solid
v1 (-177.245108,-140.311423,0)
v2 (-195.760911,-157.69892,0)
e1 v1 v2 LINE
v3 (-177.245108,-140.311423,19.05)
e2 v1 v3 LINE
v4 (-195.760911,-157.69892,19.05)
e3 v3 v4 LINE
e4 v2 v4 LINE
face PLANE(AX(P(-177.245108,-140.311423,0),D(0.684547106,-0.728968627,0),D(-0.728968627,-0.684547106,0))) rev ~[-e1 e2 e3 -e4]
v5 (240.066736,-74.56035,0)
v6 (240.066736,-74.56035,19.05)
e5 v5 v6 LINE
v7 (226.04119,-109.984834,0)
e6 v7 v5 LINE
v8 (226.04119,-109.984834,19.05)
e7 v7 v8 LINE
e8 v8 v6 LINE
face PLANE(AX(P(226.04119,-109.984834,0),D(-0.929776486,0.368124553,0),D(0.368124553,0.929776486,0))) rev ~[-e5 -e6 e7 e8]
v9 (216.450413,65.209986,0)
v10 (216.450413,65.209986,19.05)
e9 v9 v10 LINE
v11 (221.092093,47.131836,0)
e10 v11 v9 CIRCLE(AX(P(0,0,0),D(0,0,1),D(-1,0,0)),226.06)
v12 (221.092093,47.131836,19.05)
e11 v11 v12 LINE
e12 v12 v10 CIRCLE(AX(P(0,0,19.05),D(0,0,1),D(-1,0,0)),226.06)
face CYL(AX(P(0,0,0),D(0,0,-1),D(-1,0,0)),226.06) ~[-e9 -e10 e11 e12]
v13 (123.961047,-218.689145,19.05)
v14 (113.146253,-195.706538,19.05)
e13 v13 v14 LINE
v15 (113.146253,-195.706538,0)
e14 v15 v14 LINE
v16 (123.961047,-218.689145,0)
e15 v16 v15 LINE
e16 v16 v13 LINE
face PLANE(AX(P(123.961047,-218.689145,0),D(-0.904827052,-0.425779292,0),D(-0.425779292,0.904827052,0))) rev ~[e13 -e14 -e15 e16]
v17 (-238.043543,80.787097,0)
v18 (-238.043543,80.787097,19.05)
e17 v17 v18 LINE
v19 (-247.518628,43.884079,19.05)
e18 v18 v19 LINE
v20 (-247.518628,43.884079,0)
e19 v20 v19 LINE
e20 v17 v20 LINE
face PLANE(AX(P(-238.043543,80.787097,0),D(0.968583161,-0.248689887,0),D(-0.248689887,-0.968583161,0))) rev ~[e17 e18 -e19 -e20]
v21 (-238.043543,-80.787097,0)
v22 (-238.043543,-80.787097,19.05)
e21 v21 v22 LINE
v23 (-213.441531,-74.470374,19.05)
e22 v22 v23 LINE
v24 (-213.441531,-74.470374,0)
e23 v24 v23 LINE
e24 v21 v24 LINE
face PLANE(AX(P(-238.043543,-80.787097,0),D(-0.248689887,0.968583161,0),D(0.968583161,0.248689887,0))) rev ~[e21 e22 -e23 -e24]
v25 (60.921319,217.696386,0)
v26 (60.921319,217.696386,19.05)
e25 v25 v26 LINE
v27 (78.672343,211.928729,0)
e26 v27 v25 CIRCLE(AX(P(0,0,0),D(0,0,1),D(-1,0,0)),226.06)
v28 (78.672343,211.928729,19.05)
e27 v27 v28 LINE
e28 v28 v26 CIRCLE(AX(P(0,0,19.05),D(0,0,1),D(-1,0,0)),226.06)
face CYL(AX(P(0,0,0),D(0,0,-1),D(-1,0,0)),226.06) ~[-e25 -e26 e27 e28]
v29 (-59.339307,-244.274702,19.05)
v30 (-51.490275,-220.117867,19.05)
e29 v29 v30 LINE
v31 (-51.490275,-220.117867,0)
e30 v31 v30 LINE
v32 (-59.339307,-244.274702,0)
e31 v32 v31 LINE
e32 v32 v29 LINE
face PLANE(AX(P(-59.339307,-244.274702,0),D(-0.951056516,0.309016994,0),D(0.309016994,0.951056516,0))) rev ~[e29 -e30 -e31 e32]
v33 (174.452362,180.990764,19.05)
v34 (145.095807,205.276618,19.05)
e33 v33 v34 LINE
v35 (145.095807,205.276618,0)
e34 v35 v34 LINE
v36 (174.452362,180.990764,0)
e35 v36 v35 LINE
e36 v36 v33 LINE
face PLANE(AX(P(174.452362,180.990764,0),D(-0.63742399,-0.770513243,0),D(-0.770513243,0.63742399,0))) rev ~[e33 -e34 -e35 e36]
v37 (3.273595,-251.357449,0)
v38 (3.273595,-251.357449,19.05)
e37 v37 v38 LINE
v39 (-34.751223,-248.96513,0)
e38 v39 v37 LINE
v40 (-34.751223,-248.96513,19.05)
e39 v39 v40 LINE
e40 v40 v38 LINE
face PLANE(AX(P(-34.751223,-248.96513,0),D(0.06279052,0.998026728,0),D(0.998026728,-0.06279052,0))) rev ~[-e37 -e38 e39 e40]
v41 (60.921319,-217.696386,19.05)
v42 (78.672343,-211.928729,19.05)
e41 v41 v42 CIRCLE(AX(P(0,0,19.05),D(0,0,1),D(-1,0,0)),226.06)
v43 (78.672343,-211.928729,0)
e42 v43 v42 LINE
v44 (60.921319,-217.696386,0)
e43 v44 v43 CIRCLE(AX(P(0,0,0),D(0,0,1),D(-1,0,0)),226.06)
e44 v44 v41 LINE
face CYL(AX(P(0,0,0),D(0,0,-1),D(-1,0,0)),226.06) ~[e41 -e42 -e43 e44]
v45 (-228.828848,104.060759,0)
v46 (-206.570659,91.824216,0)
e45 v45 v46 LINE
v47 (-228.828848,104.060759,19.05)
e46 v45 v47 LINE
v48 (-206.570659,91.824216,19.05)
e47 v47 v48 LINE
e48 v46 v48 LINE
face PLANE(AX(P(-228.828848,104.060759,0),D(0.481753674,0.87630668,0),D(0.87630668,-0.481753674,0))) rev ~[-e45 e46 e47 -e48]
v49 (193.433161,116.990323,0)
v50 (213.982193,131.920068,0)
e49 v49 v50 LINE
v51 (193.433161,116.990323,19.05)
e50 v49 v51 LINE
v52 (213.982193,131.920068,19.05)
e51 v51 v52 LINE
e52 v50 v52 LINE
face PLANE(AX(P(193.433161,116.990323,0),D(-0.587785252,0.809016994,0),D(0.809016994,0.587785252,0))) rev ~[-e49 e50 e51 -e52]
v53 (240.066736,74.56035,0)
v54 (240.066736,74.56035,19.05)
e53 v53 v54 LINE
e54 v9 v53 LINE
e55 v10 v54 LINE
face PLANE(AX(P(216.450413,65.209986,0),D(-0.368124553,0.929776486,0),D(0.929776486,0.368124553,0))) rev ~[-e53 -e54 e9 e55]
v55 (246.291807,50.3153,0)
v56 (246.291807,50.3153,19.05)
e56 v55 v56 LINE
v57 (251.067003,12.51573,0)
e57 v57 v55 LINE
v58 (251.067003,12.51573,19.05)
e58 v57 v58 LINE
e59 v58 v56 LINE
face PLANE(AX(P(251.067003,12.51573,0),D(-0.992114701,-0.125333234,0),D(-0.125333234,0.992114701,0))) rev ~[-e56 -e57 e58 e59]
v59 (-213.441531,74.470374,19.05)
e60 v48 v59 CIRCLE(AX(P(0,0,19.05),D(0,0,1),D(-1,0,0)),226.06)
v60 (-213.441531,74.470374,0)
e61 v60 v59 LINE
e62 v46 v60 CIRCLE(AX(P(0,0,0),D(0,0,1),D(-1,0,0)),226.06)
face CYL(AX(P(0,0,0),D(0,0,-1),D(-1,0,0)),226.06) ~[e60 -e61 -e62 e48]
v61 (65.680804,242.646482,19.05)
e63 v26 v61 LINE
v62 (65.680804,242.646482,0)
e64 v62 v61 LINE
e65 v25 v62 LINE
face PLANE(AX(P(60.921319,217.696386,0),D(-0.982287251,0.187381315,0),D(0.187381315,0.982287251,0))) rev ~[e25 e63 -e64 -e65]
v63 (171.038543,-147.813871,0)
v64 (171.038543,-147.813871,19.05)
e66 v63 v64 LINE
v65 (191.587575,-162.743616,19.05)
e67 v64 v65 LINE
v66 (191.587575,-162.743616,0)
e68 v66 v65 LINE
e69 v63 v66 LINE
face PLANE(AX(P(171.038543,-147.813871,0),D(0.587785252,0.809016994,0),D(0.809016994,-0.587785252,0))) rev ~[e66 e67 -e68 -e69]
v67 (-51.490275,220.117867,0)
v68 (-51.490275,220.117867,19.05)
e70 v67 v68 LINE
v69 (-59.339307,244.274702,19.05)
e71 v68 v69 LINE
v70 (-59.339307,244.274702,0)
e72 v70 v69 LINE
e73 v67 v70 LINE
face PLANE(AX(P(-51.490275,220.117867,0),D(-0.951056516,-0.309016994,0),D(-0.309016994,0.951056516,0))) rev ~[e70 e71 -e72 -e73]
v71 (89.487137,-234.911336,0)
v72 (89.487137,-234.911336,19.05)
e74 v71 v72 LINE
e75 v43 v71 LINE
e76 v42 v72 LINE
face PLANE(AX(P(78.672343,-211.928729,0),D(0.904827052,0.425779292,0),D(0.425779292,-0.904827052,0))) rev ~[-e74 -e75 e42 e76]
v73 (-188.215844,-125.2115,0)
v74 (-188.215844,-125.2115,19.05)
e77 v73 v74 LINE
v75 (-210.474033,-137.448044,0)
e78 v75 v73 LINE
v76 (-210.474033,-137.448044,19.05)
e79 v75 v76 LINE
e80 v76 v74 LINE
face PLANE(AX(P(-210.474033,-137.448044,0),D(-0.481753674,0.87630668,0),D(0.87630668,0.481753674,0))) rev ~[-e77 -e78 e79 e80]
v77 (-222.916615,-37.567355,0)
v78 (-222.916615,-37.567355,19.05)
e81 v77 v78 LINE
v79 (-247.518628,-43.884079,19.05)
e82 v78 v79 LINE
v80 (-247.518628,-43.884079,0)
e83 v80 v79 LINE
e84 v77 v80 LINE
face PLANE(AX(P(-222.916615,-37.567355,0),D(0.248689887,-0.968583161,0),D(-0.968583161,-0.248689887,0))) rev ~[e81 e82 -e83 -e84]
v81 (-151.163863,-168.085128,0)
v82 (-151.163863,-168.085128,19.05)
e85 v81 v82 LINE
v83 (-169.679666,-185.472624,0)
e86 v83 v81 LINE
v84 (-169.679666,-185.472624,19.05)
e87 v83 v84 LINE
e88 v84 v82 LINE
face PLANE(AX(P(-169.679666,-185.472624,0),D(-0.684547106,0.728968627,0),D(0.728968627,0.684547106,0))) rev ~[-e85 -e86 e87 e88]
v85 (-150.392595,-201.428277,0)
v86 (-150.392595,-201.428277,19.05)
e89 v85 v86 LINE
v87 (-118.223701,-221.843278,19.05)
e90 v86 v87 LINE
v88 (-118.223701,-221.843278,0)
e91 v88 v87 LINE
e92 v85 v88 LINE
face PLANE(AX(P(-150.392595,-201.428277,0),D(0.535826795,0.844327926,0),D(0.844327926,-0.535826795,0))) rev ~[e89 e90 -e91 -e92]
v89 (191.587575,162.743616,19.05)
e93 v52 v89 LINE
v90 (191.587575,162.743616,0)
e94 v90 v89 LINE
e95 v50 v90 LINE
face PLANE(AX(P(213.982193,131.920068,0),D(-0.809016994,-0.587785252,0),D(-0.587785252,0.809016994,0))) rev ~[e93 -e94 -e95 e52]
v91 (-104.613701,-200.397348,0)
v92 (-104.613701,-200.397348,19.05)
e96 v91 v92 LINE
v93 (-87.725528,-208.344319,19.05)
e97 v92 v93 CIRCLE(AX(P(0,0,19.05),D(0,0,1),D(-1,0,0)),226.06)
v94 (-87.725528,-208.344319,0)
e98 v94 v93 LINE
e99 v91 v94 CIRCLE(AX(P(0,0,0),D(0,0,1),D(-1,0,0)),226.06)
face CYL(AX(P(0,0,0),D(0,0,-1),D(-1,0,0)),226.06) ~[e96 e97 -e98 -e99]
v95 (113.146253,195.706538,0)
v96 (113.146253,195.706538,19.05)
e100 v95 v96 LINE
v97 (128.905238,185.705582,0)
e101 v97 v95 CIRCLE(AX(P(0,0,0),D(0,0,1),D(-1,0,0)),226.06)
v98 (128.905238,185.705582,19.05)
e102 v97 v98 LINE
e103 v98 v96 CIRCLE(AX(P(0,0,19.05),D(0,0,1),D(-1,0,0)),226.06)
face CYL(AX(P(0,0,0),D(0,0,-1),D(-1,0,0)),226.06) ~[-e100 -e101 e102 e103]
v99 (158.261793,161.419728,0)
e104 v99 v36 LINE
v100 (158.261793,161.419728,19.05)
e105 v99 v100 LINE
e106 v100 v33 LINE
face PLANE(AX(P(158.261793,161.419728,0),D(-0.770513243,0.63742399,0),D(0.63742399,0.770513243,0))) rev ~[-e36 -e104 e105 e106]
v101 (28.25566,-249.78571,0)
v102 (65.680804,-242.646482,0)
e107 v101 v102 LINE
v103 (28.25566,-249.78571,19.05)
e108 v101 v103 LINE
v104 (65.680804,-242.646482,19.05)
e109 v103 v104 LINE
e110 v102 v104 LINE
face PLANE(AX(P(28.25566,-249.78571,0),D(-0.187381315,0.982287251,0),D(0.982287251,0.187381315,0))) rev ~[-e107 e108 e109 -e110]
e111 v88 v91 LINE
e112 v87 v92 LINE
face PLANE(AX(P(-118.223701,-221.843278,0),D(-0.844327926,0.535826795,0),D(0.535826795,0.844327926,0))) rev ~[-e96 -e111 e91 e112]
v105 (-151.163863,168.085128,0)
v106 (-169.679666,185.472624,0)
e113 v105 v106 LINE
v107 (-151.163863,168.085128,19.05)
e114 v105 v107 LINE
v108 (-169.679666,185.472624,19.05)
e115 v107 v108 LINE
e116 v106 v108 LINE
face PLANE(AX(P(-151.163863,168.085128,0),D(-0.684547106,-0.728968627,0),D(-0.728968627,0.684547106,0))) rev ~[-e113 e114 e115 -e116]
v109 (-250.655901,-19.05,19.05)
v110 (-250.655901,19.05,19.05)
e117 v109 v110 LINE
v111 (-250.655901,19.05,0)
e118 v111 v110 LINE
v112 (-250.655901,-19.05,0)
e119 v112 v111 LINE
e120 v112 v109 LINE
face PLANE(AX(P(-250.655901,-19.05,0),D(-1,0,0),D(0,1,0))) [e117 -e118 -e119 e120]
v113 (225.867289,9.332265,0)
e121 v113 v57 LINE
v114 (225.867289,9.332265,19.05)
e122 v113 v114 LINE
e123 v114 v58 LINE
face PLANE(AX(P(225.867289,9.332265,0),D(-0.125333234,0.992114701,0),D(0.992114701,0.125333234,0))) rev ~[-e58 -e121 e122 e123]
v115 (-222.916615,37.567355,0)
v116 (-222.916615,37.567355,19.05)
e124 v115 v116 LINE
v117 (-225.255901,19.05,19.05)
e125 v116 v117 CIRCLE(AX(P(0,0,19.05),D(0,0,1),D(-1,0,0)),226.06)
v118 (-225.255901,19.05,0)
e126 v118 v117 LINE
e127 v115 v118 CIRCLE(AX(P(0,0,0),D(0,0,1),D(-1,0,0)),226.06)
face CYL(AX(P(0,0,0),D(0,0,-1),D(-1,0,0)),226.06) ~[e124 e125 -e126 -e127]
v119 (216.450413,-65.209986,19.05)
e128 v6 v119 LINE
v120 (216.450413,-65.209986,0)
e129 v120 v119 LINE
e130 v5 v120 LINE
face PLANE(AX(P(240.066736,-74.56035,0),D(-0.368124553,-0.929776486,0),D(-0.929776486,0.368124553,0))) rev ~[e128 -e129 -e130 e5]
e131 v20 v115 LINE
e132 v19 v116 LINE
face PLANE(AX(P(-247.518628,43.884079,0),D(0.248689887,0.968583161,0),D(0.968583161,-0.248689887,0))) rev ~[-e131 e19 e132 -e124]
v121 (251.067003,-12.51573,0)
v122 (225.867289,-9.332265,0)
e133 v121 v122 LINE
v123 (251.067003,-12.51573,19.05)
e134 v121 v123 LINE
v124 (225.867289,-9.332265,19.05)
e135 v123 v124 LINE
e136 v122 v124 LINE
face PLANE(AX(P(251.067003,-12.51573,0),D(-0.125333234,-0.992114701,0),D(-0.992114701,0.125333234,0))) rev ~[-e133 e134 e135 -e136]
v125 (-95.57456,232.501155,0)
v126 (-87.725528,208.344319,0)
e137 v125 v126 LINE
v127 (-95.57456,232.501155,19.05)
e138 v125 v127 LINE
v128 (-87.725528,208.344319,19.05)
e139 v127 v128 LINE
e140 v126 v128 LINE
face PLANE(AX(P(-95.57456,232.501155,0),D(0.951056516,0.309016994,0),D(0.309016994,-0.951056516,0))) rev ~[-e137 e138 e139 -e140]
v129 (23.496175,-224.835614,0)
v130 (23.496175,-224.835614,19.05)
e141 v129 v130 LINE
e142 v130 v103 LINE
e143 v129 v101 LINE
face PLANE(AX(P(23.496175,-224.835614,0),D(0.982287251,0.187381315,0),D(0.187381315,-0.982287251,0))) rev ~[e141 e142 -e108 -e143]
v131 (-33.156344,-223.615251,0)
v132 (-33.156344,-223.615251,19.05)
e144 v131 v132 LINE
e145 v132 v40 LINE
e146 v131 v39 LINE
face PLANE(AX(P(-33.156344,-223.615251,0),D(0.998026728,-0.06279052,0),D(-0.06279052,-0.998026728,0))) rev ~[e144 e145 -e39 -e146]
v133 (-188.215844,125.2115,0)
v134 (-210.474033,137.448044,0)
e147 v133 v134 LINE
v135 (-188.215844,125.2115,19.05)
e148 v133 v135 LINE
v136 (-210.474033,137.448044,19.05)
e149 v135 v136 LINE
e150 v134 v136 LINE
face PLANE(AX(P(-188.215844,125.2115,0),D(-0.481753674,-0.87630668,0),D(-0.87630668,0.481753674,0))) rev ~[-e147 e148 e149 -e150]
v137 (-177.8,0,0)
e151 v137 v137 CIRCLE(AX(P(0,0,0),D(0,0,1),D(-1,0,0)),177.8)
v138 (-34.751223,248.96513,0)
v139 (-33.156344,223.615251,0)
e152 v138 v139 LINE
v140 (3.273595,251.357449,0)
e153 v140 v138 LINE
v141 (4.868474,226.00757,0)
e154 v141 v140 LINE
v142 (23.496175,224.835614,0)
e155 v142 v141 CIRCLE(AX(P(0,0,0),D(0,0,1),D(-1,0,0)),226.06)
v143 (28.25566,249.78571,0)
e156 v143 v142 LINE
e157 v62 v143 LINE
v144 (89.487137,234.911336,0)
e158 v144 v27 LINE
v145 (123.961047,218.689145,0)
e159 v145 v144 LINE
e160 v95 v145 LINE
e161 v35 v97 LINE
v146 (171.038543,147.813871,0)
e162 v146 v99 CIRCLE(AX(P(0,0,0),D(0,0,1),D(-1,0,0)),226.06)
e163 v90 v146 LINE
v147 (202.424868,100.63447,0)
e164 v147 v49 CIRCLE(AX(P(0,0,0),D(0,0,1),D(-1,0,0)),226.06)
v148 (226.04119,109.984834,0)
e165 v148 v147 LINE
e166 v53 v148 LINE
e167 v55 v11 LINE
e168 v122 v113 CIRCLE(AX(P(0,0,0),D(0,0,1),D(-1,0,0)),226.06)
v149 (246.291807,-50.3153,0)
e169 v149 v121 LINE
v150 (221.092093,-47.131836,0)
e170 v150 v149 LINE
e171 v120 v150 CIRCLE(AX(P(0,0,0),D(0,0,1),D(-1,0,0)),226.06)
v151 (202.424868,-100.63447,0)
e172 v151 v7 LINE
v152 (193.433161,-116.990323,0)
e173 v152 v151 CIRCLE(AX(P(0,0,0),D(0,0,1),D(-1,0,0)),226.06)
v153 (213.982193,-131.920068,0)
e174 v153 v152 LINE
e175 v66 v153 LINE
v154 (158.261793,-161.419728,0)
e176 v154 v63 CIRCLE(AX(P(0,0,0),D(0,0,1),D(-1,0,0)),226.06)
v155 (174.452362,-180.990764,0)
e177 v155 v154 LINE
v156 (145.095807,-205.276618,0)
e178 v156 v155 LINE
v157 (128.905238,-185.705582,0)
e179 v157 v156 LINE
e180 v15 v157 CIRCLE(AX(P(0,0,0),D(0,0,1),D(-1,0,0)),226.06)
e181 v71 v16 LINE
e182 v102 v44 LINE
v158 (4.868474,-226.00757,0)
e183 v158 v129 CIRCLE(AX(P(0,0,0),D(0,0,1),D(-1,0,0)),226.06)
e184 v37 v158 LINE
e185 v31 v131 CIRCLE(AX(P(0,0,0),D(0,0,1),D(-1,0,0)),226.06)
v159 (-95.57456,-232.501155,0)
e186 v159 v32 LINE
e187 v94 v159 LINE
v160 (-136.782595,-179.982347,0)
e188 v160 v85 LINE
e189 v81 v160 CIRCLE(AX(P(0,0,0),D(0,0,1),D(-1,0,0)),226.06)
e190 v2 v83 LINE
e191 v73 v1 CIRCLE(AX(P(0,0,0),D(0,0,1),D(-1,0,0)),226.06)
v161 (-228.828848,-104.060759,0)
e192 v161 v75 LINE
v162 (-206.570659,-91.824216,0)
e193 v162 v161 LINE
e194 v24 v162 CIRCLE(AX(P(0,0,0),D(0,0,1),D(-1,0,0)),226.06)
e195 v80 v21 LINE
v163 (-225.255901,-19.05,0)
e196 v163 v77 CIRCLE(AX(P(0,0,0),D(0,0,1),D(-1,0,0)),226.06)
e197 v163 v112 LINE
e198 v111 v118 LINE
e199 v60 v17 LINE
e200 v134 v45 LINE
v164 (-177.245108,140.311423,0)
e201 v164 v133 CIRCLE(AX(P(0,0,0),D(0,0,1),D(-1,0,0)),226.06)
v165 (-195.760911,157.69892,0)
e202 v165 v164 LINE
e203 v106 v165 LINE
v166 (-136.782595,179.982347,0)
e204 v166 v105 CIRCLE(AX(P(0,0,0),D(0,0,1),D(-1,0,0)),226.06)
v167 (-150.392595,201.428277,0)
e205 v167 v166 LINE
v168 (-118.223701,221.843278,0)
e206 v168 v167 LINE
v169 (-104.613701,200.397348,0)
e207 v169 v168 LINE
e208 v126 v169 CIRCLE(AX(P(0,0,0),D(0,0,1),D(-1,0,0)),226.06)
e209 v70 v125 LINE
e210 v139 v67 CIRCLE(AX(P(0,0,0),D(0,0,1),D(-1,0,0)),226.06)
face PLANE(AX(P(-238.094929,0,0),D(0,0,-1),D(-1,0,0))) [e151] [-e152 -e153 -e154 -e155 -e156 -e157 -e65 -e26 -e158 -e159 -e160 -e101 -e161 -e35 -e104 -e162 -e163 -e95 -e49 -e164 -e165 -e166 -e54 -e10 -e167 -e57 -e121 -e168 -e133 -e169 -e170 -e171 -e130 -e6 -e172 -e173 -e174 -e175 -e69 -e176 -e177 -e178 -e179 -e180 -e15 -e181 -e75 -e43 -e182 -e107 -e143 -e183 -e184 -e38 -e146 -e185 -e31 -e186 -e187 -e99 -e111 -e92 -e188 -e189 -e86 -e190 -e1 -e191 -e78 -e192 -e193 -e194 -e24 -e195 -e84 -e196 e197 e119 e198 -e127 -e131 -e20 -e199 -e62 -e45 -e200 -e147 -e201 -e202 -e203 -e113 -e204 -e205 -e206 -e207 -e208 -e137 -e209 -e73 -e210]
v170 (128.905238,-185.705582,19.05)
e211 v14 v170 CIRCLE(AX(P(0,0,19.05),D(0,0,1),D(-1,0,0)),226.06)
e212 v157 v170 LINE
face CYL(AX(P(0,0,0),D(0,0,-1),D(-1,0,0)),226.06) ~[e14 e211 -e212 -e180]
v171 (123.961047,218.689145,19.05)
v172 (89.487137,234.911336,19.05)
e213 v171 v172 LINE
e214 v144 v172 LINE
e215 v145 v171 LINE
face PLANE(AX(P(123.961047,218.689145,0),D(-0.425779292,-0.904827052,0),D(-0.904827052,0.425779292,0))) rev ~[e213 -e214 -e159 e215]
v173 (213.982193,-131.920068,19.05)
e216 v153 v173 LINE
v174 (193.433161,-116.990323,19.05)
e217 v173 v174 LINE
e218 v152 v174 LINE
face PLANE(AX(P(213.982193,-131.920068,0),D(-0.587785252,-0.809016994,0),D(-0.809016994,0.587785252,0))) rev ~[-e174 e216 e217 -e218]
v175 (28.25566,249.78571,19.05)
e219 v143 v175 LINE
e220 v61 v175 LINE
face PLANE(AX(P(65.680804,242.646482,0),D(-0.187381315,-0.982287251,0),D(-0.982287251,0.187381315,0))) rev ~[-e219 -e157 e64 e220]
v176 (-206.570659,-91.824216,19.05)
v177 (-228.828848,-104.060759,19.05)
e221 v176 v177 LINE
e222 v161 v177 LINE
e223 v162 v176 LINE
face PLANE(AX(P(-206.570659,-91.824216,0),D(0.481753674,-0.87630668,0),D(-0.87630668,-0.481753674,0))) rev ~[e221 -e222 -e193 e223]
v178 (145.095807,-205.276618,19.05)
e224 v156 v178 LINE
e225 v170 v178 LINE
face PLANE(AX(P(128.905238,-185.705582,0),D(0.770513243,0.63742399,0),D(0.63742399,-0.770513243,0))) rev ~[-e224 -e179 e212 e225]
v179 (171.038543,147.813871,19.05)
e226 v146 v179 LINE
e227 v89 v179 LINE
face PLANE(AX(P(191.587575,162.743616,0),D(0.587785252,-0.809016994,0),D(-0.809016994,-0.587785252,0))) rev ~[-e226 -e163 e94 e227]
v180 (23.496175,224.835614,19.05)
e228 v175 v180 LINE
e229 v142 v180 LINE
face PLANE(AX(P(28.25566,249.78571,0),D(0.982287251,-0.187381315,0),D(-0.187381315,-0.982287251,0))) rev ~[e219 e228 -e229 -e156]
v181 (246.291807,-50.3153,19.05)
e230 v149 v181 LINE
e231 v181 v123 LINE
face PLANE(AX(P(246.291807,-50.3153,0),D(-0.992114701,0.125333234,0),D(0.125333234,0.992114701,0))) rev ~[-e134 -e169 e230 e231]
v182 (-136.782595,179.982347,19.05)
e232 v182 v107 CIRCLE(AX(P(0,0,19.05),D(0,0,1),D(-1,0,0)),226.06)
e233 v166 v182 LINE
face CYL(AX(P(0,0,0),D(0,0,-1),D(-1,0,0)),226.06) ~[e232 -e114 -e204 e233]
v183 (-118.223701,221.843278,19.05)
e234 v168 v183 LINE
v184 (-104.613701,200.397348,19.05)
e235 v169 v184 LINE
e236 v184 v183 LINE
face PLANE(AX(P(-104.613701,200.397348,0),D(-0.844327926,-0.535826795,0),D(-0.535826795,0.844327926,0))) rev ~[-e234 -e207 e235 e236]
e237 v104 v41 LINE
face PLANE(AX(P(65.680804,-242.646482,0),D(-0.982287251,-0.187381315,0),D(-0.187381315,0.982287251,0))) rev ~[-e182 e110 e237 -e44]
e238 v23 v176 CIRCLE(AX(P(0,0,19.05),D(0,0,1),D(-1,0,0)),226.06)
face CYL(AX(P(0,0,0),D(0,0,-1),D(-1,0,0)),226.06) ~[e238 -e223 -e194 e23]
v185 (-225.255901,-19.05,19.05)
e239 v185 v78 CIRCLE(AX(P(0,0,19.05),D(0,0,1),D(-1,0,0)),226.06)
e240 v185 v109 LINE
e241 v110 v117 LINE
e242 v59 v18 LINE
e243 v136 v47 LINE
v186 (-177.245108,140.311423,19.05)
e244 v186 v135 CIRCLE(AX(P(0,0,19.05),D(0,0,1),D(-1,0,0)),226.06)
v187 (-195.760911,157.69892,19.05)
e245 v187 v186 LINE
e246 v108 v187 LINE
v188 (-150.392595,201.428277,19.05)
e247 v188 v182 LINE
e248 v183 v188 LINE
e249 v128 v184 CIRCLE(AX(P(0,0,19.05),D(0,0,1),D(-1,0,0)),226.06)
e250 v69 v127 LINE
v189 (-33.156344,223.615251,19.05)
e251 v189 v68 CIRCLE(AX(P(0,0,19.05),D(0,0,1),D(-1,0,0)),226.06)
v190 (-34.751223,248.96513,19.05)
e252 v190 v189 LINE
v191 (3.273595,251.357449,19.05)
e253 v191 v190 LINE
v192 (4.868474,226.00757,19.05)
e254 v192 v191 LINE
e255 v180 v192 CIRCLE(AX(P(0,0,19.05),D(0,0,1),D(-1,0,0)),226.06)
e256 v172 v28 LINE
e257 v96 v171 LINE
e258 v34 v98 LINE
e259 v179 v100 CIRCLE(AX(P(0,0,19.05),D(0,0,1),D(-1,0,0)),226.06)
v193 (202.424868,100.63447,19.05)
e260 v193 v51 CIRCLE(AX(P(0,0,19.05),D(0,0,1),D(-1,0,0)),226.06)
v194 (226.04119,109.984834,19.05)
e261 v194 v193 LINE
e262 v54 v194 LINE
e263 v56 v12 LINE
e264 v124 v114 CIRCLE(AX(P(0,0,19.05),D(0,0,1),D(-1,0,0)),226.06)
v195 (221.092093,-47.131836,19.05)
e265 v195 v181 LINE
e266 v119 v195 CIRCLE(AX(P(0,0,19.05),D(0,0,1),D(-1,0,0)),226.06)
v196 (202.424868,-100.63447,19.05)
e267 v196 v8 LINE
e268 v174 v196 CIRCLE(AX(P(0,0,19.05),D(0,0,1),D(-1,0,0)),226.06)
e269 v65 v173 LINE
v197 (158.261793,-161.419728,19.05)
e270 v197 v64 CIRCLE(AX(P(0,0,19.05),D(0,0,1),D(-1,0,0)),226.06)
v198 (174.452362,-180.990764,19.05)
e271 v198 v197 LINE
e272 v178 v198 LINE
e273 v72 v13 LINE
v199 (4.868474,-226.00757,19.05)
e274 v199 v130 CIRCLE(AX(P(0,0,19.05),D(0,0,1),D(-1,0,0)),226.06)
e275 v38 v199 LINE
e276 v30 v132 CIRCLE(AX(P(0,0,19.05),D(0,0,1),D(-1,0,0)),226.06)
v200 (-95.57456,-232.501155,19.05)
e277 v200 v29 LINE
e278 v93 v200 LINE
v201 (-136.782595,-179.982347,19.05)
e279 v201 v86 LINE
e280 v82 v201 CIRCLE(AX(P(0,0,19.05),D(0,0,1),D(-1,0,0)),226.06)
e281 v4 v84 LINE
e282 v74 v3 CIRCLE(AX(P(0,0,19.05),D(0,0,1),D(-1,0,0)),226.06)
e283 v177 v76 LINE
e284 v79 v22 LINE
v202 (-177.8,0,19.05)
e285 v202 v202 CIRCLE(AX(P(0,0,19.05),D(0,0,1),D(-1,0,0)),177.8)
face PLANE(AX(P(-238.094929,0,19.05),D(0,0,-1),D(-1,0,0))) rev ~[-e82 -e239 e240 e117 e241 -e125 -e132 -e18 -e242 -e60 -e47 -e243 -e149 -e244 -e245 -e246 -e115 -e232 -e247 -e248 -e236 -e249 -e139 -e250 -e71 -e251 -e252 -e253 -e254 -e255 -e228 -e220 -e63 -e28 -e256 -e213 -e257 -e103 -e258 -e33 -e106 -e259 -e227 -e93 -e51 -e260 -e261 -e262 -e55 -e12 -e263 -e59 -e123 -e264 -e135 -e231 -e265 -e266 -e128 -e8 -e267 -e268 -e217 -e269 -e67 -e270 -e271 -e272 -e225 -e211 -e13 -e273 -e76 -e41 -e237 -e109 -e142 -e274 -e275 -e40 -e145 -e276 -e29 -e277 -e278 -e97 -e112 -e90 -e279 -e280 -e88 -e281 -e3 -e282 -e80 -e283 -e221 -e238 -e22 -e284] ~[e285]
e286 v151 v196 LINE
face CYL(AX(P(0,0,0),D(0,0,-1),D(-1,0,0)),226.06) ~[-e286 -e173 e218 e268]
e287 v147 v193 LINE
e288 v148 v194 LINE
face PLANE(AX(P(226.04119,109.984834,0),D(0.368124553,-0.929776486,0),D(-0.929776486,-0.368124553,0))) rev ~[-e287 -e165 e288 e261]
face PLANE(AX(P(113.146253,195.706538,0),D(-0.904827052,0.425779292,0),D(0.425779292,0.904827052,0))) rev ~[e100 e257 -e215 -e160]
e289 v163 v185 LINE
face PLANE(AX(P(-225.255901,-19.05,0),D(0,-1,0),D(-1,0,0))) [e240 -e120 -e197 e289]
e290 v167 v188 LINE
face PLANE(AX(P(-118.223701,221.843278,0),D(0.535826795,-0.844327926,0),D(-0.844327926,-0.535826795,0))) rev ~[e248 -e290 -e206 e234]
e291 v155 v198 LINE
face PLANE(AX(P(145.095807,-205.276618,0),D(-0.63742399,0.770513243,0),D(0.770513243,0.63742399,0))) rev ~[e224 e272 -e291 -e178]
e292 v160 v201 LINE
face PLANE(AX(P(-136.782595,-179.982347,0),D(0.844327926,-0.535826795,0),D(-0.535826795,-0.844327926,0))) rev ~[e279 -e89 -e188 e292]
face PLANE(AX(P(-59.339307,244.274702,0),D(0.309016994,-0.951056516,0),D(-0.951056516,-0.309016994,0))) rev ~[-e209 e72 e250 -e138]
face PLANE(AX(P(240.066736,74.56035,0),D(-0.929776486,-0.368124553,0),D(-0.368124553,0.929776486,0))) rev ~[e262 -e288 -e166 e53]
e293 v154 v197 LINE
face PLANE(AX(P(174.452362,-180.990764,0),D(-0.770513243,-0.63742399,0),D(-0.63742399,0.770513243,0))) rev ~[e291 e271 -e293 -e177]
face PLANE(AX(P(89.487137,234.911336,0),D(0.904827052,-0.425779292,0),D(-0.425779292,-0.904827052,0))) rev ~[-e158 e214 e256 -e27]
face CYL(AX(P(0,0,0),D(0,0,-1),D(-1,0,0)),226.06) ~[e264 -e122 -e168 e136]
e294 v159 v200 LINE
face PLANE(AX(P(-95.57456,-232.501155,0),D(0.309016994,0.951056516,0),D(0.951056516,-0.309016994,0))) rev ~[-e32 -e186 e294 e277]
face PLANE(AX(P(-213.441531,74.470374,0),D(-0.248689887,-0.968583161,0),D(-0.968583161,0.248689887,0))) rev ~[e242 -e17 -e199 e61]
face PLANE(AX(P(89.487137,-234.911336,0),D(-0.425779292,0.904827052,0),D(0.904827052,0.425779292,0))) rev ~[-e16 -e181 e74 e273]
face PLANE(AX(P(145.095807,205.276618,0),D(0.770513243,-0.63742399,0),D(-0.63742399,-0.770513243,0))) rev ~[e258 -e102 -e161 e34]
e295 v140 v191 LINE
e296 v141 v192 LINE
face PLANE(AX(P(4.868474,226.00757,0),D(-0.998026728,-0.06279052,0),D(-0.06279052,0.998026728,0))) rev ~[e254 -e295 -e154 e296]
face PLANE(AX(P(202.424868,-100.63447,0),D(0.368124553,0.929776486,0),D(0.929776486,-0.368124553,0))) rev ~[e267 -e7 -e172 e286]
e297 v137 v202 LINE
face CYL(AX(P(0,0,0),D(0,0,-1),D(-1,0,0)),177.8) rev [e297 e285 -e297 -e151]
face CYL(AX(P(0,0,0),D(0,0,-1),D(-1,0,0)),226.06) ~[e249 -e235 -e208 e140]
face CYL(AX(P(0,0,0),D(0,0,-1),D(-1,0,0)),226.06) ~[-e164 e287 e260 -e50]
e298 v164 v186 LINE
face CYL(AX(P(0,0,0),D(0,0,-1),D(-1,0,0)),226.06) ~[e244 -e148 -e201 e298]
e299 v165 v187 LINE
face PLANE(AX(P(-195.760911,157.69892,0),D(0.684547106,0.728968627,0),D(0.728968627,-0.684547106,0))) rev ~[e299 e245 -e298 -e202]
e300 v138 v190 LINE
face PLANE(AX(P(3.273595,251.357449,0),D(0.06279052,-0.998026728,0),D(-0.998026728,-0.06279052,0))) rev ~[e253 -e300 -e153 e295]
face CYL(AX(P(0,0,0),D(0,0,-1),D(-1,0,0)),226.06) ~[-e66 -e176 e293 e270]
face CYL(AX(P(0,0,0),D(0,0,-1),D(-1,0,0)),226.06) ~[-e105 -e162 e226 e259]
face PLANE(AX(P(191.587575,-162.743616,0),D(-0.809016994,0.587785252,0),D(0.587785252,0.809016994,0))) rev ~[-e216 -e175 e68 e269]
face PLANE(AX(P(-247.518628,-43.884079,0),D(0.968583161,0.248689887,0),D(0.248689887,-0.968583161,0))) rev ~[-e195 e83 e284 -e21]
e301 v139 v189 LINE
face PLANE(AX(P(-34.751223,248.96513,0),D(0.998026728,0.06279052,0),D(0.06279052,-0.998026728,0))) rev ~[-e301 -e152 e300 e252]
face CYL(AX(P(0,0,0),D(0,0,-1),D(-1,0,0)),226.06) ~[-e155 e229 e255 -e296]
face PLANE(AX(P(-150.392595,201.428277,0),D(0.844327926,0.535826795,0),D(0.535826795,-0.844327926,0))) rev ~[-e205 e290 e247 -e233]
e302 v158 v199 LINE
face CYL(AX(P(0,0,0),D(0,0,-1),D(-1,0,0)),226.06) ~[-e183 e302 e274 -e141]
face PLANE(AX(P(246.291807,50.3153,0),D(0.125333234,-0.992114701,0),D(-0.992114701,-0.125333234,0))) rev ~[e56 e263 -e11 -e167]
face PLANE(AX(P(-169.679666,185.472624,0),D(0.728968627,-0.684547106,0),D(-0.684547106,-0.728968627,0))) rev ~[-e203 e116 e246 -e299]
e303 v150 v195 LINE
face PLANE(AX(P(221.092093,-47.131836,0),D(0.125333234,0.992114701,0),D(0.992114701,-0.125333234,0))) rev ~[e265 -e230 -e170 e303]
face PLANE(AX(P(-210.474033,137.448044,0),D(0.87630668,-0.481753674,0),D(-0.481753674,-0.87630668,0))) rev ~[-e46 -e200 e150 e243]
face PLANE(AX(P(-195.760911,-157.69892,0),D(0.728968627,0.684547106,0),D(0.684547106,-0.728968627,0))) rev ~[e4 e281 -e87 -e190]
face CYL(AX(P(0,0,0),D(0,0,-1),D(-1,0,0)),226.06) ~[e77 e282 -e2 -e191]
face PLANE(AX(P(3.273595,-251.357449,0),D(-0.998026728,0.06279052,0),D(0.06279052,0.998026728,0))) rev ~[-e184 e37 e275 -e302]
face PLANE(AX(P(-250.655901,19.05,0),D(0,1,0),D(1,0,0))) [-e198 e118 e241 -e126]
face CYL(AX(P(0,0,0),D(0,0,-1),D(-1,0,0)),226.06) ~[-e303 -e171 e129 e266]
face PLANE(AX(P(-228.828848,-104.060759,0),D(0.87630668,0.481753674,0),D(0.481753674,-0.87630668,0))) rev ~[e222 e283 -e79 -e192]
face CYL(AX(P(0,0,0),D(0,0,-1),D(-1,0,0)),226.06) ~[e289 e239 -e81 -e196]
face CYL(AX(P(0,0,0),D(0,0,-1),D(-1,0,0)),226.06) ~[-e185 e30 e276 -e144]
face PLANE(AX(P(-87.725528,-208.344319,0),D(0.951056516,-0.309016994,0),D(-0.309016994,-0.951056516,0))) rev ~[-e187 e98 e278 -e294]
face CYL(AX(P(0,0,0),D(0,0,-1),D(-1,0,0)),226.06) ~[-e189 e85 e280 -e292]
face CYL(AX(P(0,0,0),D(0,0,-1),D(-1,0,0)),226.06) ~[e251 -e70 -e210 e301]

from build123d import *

# Parameters (mm, degrees)
SKETCH1_R           = 226.06
SKETCH1_R_2         = 177.8
BOSS_EXTRUDE1_DEPTH = 19.05
BOSS_EXTRUDE2_START = -19.05
BOSS_EXTRUDE2_DEPTH = 19.05


with BuildPart() as part:
    # Sketch1 → Boss-Extrude1 (new body)
    with BuildSketch(Plane.XY):
        with Locations(Location((0, 0, 0), (0, 0, 180))):
            Circle(SKETCH1_R)
        with Locations(Location((0, 0, 0), (0, 0, 180))):
            Circle(SKETCH1_R_2, mode=Mode.SUBTRACT)
    extrude(amount=BOSS_EXTRUDE1_DEPTH)

    # Sketch2 → Boss-Extrude2 (add)
    with BuildSketch(Plane.XY.offset(19.05).offset(BOSS_EXTRUDE2_START)):
        with BuildLine():
            Line((-250.655901366, 19.05), (-225.255901366, 19.05))
            ThreePointArc((-225.255901366, 19.05), (-226.06, 0), (-225.255901366, -19.05))
            Line((-225.255901366, -19.05), (-250.655901366, -19.05))
            Line((-250.655901366, -19.05), (-250.655901366, 19.05))
        make_face()
        with BuildLine():
            Line((-247.518627651, 43.884078608), (-222.916615358, 37.567355474))
            ThreePointArc((-222.916615358, 37.567355474), (-218.957909405, 56.218835892), (-213.441530657, 74.470373913))
            Line((-213.441530657, 74.470373913), (-238.04354295, 80.787097047))
            Line((-238.04354295, 80.787097047), (-247.518627651, 43.884078608))
        make_face()
        with BuildLine():
            Line((-228.828848251, 104.060759163), (-206.570658578, 91.824215841))
            ThreePointArc((-206.570658578, 91.824215841), (-198.097888091, 108.905235567), (-188.215843594, 125.211500351))
            Line((-188.215843594, 125.211500351), (-210.474033267, 137.448043673))
            Line((-210.474033267, 137.448043673), (-228.828848251, 104.060759163))
        make_face()
        with BuildLine():
            Line((-195.760910741, 157.698919511), (-177.245107605, 140.311423021))
            ThreePointArc((-177.245107605, 140.311423021), (-164.790647915, 154.748718766), (-151.163862869, 168.085127726))
            Line((-151.163862869, 168.085127726), (-169.679666006, 185.472624216))
            Line((-169.679666006, 185.472624216), (-195.760910741, 157.698919511))
        make_face()
        with BuildLine():
            Line((-150.392595252, 201.42827677), (-136.78259466, 179.982347463))
            ThreePointArc((-136.78259466, 179.982347463), (-121.129005273, 190.868770839), (-104.613700698, 200.397348351))
            Line((-104.613700698, 200.397348351), (-118.22370129, 221.843277659))
            Line((-118.22370129, 221.843277659), (-150.392595252, 201.42827677))
        make_face()
        with BuildLine():
            Line((-95.574559898, 232.501154599), (-87.725528241, 208.344319085))
            ThreePointArc((-87.725528241, 208.344319085), (-69.856381748, 214.995836074), (-51.49027497, 220.11786657))
            Line((-51.49027497, 220.11786657), (-59.339306627, 244.274702084))
            Line((-59.339306627, 244.274702084), (-95.574559898, 232.501154599))
        make_face()
        with BuildLine():
            Line((-34.751223446, 248.965129804), (-33.15634425, 223.615250902))
            ThreePointArc((-33.15634425, 223.615250902), (-14.194424845, 225.613922228), (4.868474103, 226.007569696))
            Line((4.868474103, 226.007569696), (3.273594907, 251.357448598))
            Line((3.273594907, 251.357448598), (-34.751223446, 248.965129804))
        make_face()
        with BuildLine():
            Line((28.25566018, 249.785710274), (23.49617479, 224.835614106))
            ThreePointArc((23.49617479, 224.835614106), (42.359419975, 222.0558559), (60.921319042, 217.69638602))
            Line((60.921319042, 217.69638602), (65.680804433, 242.646482188))
            Line((65.680804433, 242.646482188), (28.25566018, 249.785710274))
        make_face()
        with BuildLine():
            Line((89.487136761, 234.91133592), (78.672342755, 211.928728787))
            ThreePointArc((78.672342755, 211.928728787), (96.251666651, 204.54520348), (113.146253454, 195.706537779))
            Line((113.146253454, 195.706537779), (123.96104746, 218.689144911))
            Line((123.96104746, 218.689144911), (89.487136761, 234.91133592))
        make_face()
        with BuildLine():
            Line((145.095807428, 205.276618387), (128.905238088, 185.70558202))
            ThreePointArc((128.905238088, 185.70558202), (144.096067123, 174.182223662), (158.261792638, 161.419728011))
            Line((158.261792638, 161.419728011), (174.452361977, 180.990764377))
            Line((174.452361977, 180.990764377), (145.095807428, 205.276618387))
        make_face()
        with BuildLine():
            Line((191.587574889, 162.743615966), (171.038543232, 147.813870557))
            ThreePointArc((171.038543232, 147.813870557), (182.886381748, 132.874734133), (193.433161344, 116.990323072))
            Line((193.433161344, 116.990323072), (213.982193001, 131.92006848))
            Line((213.982193001, 131.92006848), (191.587574889, 162.743615966))
        make_face()
        with BuildLine():
            Line((226.04119041, 109.984833624), (202.424867669, 100.634469986))
            ThreePointArc((202.424867669, 100.634469986), (210.1852724, 83.21823638), (216.450413126, 65.209985874))
            Line((216.450413126, 65.209985874), (240.066735867, 74.560349512))
            Line((240.066735867, 74.560349512), (226.04119041, 109.984833624))
        make_face()
        with BuildLine():
            Line((246.291806617, 50.31529969), (221.092093203, 47.131835558))
            ThreePointArc((221.092093203, 47.131835558), (224.277449379, 28.33283078), (225.867289402, 9.332265438))
            Line((225.867289402, 9.332265438), (251.067002815, 12.51572957))
            Line((251.067002815, 12.51572957), (246.291806617, 50.31529969))
        make_face()
        with BuildLine():
            Line((251.067002815, -12.51572957), (225.867289402, -9.332265438))
            ThreePointArc((225.867289402, -9.332265438), (224.277449379, -28.33283078), (221.092093203, -47.131835558))
            Line((221.092093203, -47.131835558), (246.291806617, -50.31529969))
            Line((246.291806617, -50.31529969), (251.067002815, -12.51572957))
        make_face()
        with BuildLine():
            Line((240.066735867, -74.560349512), (216.450413126, -65.209985874))
            ThreePointArc((216.450413126, -65.209985874), (210.1852724, -83.21823638), (202.424867669, -100.634469986))
            Line((202.424867669, -100.634469986), (226.04119041, -109.984833624))
            Line((226.04119041, -109.984833624), (240.066735867, -74.560349512))
        make_face()
        with BuildLine():
            Line((213.982193001, -131.92006848), (193.433161344, -116.990323072))
            ThreePointArc((193.433161344, -116.990323072), (182.886381748, -132.874734133), (171.038543232, -147.813870557))
            Line((171.038543232, -147.813870557), (191.587574889, -162.743615966))
            Line((191.587574889, -162.743615966), (213.982193001, -131.92006848))
        make_face()
        with BuildLine():
            Line((174.452361977, -180.990764377), (158.261792638, -161.419728011))
            ThreePointArc((158.261792638, -161.419728011), (144.096067123, -174.182223662), (128.905238088, -185.70558202))
            Line((128.905238088, -185.70558202), (145.095807428, -205.276618387))
            Line((145.095807428, -205.276618387), (174.452361977, -180.990764377))
        make_face()
        with BuildLine():
            Line((123.961047459, -218.689144911), (113.146253454, -195.706537779))
            ThreePointArc((113.146253454, -195.706537779), (96.251666651, -204.54520348), (78.672342755, -211.928728787))
            Line((78.672342755, -211.928728787), (89.487136761, -234.91133592))
            Line((89.487136761, -234.91133592), (123.961047459, -218.689144911))
        make_face()
        with BuildLine():
            Line((65.680804433, -242.646482188), (60.921319042, -217.69638602))
            ThreePointArc((60.921319042, -217.69638602), (42.359419975, -222.0558559), (23.49617479, -224.835614106))
            Line((23.49617479, -224.835614106), (28.25566018, -249.785710274))
            Line((28.25566018, -249.785710274), (65.680804433, -242.646482188))
        make_face()
        with BuildLine():
            Line((3.273594907, -251.357448598), (4.868474103, -226.007569696))
            ThreePointArc((4.868474103, -226.007569696), (-14.194424845, -225.613922228), (-33.15634425, -223.615250902))
            Line((-33.15634425, -223.615250902), (-34.751223446, -248.965129804))
            Line((-34.751223446, -248.965129804), (3.273594907, -251.357448598))
        make_face()
        with BuildLine():
            Line((-59.339306627, -244.274702084), (-51.49027497, -220.11786657))
            ThreePointArc((-51.49027497, -220.11786657), (-69.856381748, -214.995836074), (-87.725528241, -208.344319085))
            Line((-87.725528241, -208.344319085), (-95.574559898, -232.501154599))
            Line((-95.574559898, -232.501154599), (-59.339306627, -244.274702084))
        make_face()
        with BuildLine():
            Line((-118.22370129, -221.843277659), (-104.613700698, -200.397348351))
            ThreePointArc((-104.613700698, -200.397348351), (-121.129005273, -190.868770839), (-136.78259466, -179.982347463))
            Line((-136.78259466, -179.982347463), (-150.392595252, -201.42827677))
            Line((-150.392595252, -201.42827677), (-118.22370129, -221.843277659))
        make_face()
        with BuildLine():
            Line((-169.679666006, -185.472624216), (-151.163862869, -168.085127726))
            ThreePointArc((-151.163862869, -168.085127726), (-164.790647915, -154.748718766), (-177.245107605, -140.311423021))
            Line((-177.245107605, -140.311423021), (-195.760910741, -157.698919511))
            Line((-195.760910741, -157.698919511), (-169.679666006, -185.472624216))
        make_face()
        with BuildLine():
            Line((-210.474033267, -137.448043673), (-188.215843594, -125.211500351))
            ThreePointArc((-188.215843594, -125.211500351), (-198.097888091, -108.905235567), (-206.570658578, -91.824215841))
            Line((-206.570658578, -91.824215841), (-228.828848251, -104.060759163))
            Line((-228.828848251, -104.060759163), (-210.474033267, -137.448043673))
        make_face()
        with BuildLine():
            Line((-238.04354295, -80.787097047), (-213.441530657, -74.470373913))
            ThreePointArc((-213.441530657, -74.470373913), (-218.957909405, -56.218835892), (-222.916615358, -37.567355474))
            Line((-222.916615358, -37.567355474), (-247.518627651, -43.884078608))
            Line((-247.518627651, -43.884078608), (-238.04354295, -80.787097047))
        make_face()
    extrude(amount=BOSS_EXTRUDE2_DEPTH)


solid = part.part
